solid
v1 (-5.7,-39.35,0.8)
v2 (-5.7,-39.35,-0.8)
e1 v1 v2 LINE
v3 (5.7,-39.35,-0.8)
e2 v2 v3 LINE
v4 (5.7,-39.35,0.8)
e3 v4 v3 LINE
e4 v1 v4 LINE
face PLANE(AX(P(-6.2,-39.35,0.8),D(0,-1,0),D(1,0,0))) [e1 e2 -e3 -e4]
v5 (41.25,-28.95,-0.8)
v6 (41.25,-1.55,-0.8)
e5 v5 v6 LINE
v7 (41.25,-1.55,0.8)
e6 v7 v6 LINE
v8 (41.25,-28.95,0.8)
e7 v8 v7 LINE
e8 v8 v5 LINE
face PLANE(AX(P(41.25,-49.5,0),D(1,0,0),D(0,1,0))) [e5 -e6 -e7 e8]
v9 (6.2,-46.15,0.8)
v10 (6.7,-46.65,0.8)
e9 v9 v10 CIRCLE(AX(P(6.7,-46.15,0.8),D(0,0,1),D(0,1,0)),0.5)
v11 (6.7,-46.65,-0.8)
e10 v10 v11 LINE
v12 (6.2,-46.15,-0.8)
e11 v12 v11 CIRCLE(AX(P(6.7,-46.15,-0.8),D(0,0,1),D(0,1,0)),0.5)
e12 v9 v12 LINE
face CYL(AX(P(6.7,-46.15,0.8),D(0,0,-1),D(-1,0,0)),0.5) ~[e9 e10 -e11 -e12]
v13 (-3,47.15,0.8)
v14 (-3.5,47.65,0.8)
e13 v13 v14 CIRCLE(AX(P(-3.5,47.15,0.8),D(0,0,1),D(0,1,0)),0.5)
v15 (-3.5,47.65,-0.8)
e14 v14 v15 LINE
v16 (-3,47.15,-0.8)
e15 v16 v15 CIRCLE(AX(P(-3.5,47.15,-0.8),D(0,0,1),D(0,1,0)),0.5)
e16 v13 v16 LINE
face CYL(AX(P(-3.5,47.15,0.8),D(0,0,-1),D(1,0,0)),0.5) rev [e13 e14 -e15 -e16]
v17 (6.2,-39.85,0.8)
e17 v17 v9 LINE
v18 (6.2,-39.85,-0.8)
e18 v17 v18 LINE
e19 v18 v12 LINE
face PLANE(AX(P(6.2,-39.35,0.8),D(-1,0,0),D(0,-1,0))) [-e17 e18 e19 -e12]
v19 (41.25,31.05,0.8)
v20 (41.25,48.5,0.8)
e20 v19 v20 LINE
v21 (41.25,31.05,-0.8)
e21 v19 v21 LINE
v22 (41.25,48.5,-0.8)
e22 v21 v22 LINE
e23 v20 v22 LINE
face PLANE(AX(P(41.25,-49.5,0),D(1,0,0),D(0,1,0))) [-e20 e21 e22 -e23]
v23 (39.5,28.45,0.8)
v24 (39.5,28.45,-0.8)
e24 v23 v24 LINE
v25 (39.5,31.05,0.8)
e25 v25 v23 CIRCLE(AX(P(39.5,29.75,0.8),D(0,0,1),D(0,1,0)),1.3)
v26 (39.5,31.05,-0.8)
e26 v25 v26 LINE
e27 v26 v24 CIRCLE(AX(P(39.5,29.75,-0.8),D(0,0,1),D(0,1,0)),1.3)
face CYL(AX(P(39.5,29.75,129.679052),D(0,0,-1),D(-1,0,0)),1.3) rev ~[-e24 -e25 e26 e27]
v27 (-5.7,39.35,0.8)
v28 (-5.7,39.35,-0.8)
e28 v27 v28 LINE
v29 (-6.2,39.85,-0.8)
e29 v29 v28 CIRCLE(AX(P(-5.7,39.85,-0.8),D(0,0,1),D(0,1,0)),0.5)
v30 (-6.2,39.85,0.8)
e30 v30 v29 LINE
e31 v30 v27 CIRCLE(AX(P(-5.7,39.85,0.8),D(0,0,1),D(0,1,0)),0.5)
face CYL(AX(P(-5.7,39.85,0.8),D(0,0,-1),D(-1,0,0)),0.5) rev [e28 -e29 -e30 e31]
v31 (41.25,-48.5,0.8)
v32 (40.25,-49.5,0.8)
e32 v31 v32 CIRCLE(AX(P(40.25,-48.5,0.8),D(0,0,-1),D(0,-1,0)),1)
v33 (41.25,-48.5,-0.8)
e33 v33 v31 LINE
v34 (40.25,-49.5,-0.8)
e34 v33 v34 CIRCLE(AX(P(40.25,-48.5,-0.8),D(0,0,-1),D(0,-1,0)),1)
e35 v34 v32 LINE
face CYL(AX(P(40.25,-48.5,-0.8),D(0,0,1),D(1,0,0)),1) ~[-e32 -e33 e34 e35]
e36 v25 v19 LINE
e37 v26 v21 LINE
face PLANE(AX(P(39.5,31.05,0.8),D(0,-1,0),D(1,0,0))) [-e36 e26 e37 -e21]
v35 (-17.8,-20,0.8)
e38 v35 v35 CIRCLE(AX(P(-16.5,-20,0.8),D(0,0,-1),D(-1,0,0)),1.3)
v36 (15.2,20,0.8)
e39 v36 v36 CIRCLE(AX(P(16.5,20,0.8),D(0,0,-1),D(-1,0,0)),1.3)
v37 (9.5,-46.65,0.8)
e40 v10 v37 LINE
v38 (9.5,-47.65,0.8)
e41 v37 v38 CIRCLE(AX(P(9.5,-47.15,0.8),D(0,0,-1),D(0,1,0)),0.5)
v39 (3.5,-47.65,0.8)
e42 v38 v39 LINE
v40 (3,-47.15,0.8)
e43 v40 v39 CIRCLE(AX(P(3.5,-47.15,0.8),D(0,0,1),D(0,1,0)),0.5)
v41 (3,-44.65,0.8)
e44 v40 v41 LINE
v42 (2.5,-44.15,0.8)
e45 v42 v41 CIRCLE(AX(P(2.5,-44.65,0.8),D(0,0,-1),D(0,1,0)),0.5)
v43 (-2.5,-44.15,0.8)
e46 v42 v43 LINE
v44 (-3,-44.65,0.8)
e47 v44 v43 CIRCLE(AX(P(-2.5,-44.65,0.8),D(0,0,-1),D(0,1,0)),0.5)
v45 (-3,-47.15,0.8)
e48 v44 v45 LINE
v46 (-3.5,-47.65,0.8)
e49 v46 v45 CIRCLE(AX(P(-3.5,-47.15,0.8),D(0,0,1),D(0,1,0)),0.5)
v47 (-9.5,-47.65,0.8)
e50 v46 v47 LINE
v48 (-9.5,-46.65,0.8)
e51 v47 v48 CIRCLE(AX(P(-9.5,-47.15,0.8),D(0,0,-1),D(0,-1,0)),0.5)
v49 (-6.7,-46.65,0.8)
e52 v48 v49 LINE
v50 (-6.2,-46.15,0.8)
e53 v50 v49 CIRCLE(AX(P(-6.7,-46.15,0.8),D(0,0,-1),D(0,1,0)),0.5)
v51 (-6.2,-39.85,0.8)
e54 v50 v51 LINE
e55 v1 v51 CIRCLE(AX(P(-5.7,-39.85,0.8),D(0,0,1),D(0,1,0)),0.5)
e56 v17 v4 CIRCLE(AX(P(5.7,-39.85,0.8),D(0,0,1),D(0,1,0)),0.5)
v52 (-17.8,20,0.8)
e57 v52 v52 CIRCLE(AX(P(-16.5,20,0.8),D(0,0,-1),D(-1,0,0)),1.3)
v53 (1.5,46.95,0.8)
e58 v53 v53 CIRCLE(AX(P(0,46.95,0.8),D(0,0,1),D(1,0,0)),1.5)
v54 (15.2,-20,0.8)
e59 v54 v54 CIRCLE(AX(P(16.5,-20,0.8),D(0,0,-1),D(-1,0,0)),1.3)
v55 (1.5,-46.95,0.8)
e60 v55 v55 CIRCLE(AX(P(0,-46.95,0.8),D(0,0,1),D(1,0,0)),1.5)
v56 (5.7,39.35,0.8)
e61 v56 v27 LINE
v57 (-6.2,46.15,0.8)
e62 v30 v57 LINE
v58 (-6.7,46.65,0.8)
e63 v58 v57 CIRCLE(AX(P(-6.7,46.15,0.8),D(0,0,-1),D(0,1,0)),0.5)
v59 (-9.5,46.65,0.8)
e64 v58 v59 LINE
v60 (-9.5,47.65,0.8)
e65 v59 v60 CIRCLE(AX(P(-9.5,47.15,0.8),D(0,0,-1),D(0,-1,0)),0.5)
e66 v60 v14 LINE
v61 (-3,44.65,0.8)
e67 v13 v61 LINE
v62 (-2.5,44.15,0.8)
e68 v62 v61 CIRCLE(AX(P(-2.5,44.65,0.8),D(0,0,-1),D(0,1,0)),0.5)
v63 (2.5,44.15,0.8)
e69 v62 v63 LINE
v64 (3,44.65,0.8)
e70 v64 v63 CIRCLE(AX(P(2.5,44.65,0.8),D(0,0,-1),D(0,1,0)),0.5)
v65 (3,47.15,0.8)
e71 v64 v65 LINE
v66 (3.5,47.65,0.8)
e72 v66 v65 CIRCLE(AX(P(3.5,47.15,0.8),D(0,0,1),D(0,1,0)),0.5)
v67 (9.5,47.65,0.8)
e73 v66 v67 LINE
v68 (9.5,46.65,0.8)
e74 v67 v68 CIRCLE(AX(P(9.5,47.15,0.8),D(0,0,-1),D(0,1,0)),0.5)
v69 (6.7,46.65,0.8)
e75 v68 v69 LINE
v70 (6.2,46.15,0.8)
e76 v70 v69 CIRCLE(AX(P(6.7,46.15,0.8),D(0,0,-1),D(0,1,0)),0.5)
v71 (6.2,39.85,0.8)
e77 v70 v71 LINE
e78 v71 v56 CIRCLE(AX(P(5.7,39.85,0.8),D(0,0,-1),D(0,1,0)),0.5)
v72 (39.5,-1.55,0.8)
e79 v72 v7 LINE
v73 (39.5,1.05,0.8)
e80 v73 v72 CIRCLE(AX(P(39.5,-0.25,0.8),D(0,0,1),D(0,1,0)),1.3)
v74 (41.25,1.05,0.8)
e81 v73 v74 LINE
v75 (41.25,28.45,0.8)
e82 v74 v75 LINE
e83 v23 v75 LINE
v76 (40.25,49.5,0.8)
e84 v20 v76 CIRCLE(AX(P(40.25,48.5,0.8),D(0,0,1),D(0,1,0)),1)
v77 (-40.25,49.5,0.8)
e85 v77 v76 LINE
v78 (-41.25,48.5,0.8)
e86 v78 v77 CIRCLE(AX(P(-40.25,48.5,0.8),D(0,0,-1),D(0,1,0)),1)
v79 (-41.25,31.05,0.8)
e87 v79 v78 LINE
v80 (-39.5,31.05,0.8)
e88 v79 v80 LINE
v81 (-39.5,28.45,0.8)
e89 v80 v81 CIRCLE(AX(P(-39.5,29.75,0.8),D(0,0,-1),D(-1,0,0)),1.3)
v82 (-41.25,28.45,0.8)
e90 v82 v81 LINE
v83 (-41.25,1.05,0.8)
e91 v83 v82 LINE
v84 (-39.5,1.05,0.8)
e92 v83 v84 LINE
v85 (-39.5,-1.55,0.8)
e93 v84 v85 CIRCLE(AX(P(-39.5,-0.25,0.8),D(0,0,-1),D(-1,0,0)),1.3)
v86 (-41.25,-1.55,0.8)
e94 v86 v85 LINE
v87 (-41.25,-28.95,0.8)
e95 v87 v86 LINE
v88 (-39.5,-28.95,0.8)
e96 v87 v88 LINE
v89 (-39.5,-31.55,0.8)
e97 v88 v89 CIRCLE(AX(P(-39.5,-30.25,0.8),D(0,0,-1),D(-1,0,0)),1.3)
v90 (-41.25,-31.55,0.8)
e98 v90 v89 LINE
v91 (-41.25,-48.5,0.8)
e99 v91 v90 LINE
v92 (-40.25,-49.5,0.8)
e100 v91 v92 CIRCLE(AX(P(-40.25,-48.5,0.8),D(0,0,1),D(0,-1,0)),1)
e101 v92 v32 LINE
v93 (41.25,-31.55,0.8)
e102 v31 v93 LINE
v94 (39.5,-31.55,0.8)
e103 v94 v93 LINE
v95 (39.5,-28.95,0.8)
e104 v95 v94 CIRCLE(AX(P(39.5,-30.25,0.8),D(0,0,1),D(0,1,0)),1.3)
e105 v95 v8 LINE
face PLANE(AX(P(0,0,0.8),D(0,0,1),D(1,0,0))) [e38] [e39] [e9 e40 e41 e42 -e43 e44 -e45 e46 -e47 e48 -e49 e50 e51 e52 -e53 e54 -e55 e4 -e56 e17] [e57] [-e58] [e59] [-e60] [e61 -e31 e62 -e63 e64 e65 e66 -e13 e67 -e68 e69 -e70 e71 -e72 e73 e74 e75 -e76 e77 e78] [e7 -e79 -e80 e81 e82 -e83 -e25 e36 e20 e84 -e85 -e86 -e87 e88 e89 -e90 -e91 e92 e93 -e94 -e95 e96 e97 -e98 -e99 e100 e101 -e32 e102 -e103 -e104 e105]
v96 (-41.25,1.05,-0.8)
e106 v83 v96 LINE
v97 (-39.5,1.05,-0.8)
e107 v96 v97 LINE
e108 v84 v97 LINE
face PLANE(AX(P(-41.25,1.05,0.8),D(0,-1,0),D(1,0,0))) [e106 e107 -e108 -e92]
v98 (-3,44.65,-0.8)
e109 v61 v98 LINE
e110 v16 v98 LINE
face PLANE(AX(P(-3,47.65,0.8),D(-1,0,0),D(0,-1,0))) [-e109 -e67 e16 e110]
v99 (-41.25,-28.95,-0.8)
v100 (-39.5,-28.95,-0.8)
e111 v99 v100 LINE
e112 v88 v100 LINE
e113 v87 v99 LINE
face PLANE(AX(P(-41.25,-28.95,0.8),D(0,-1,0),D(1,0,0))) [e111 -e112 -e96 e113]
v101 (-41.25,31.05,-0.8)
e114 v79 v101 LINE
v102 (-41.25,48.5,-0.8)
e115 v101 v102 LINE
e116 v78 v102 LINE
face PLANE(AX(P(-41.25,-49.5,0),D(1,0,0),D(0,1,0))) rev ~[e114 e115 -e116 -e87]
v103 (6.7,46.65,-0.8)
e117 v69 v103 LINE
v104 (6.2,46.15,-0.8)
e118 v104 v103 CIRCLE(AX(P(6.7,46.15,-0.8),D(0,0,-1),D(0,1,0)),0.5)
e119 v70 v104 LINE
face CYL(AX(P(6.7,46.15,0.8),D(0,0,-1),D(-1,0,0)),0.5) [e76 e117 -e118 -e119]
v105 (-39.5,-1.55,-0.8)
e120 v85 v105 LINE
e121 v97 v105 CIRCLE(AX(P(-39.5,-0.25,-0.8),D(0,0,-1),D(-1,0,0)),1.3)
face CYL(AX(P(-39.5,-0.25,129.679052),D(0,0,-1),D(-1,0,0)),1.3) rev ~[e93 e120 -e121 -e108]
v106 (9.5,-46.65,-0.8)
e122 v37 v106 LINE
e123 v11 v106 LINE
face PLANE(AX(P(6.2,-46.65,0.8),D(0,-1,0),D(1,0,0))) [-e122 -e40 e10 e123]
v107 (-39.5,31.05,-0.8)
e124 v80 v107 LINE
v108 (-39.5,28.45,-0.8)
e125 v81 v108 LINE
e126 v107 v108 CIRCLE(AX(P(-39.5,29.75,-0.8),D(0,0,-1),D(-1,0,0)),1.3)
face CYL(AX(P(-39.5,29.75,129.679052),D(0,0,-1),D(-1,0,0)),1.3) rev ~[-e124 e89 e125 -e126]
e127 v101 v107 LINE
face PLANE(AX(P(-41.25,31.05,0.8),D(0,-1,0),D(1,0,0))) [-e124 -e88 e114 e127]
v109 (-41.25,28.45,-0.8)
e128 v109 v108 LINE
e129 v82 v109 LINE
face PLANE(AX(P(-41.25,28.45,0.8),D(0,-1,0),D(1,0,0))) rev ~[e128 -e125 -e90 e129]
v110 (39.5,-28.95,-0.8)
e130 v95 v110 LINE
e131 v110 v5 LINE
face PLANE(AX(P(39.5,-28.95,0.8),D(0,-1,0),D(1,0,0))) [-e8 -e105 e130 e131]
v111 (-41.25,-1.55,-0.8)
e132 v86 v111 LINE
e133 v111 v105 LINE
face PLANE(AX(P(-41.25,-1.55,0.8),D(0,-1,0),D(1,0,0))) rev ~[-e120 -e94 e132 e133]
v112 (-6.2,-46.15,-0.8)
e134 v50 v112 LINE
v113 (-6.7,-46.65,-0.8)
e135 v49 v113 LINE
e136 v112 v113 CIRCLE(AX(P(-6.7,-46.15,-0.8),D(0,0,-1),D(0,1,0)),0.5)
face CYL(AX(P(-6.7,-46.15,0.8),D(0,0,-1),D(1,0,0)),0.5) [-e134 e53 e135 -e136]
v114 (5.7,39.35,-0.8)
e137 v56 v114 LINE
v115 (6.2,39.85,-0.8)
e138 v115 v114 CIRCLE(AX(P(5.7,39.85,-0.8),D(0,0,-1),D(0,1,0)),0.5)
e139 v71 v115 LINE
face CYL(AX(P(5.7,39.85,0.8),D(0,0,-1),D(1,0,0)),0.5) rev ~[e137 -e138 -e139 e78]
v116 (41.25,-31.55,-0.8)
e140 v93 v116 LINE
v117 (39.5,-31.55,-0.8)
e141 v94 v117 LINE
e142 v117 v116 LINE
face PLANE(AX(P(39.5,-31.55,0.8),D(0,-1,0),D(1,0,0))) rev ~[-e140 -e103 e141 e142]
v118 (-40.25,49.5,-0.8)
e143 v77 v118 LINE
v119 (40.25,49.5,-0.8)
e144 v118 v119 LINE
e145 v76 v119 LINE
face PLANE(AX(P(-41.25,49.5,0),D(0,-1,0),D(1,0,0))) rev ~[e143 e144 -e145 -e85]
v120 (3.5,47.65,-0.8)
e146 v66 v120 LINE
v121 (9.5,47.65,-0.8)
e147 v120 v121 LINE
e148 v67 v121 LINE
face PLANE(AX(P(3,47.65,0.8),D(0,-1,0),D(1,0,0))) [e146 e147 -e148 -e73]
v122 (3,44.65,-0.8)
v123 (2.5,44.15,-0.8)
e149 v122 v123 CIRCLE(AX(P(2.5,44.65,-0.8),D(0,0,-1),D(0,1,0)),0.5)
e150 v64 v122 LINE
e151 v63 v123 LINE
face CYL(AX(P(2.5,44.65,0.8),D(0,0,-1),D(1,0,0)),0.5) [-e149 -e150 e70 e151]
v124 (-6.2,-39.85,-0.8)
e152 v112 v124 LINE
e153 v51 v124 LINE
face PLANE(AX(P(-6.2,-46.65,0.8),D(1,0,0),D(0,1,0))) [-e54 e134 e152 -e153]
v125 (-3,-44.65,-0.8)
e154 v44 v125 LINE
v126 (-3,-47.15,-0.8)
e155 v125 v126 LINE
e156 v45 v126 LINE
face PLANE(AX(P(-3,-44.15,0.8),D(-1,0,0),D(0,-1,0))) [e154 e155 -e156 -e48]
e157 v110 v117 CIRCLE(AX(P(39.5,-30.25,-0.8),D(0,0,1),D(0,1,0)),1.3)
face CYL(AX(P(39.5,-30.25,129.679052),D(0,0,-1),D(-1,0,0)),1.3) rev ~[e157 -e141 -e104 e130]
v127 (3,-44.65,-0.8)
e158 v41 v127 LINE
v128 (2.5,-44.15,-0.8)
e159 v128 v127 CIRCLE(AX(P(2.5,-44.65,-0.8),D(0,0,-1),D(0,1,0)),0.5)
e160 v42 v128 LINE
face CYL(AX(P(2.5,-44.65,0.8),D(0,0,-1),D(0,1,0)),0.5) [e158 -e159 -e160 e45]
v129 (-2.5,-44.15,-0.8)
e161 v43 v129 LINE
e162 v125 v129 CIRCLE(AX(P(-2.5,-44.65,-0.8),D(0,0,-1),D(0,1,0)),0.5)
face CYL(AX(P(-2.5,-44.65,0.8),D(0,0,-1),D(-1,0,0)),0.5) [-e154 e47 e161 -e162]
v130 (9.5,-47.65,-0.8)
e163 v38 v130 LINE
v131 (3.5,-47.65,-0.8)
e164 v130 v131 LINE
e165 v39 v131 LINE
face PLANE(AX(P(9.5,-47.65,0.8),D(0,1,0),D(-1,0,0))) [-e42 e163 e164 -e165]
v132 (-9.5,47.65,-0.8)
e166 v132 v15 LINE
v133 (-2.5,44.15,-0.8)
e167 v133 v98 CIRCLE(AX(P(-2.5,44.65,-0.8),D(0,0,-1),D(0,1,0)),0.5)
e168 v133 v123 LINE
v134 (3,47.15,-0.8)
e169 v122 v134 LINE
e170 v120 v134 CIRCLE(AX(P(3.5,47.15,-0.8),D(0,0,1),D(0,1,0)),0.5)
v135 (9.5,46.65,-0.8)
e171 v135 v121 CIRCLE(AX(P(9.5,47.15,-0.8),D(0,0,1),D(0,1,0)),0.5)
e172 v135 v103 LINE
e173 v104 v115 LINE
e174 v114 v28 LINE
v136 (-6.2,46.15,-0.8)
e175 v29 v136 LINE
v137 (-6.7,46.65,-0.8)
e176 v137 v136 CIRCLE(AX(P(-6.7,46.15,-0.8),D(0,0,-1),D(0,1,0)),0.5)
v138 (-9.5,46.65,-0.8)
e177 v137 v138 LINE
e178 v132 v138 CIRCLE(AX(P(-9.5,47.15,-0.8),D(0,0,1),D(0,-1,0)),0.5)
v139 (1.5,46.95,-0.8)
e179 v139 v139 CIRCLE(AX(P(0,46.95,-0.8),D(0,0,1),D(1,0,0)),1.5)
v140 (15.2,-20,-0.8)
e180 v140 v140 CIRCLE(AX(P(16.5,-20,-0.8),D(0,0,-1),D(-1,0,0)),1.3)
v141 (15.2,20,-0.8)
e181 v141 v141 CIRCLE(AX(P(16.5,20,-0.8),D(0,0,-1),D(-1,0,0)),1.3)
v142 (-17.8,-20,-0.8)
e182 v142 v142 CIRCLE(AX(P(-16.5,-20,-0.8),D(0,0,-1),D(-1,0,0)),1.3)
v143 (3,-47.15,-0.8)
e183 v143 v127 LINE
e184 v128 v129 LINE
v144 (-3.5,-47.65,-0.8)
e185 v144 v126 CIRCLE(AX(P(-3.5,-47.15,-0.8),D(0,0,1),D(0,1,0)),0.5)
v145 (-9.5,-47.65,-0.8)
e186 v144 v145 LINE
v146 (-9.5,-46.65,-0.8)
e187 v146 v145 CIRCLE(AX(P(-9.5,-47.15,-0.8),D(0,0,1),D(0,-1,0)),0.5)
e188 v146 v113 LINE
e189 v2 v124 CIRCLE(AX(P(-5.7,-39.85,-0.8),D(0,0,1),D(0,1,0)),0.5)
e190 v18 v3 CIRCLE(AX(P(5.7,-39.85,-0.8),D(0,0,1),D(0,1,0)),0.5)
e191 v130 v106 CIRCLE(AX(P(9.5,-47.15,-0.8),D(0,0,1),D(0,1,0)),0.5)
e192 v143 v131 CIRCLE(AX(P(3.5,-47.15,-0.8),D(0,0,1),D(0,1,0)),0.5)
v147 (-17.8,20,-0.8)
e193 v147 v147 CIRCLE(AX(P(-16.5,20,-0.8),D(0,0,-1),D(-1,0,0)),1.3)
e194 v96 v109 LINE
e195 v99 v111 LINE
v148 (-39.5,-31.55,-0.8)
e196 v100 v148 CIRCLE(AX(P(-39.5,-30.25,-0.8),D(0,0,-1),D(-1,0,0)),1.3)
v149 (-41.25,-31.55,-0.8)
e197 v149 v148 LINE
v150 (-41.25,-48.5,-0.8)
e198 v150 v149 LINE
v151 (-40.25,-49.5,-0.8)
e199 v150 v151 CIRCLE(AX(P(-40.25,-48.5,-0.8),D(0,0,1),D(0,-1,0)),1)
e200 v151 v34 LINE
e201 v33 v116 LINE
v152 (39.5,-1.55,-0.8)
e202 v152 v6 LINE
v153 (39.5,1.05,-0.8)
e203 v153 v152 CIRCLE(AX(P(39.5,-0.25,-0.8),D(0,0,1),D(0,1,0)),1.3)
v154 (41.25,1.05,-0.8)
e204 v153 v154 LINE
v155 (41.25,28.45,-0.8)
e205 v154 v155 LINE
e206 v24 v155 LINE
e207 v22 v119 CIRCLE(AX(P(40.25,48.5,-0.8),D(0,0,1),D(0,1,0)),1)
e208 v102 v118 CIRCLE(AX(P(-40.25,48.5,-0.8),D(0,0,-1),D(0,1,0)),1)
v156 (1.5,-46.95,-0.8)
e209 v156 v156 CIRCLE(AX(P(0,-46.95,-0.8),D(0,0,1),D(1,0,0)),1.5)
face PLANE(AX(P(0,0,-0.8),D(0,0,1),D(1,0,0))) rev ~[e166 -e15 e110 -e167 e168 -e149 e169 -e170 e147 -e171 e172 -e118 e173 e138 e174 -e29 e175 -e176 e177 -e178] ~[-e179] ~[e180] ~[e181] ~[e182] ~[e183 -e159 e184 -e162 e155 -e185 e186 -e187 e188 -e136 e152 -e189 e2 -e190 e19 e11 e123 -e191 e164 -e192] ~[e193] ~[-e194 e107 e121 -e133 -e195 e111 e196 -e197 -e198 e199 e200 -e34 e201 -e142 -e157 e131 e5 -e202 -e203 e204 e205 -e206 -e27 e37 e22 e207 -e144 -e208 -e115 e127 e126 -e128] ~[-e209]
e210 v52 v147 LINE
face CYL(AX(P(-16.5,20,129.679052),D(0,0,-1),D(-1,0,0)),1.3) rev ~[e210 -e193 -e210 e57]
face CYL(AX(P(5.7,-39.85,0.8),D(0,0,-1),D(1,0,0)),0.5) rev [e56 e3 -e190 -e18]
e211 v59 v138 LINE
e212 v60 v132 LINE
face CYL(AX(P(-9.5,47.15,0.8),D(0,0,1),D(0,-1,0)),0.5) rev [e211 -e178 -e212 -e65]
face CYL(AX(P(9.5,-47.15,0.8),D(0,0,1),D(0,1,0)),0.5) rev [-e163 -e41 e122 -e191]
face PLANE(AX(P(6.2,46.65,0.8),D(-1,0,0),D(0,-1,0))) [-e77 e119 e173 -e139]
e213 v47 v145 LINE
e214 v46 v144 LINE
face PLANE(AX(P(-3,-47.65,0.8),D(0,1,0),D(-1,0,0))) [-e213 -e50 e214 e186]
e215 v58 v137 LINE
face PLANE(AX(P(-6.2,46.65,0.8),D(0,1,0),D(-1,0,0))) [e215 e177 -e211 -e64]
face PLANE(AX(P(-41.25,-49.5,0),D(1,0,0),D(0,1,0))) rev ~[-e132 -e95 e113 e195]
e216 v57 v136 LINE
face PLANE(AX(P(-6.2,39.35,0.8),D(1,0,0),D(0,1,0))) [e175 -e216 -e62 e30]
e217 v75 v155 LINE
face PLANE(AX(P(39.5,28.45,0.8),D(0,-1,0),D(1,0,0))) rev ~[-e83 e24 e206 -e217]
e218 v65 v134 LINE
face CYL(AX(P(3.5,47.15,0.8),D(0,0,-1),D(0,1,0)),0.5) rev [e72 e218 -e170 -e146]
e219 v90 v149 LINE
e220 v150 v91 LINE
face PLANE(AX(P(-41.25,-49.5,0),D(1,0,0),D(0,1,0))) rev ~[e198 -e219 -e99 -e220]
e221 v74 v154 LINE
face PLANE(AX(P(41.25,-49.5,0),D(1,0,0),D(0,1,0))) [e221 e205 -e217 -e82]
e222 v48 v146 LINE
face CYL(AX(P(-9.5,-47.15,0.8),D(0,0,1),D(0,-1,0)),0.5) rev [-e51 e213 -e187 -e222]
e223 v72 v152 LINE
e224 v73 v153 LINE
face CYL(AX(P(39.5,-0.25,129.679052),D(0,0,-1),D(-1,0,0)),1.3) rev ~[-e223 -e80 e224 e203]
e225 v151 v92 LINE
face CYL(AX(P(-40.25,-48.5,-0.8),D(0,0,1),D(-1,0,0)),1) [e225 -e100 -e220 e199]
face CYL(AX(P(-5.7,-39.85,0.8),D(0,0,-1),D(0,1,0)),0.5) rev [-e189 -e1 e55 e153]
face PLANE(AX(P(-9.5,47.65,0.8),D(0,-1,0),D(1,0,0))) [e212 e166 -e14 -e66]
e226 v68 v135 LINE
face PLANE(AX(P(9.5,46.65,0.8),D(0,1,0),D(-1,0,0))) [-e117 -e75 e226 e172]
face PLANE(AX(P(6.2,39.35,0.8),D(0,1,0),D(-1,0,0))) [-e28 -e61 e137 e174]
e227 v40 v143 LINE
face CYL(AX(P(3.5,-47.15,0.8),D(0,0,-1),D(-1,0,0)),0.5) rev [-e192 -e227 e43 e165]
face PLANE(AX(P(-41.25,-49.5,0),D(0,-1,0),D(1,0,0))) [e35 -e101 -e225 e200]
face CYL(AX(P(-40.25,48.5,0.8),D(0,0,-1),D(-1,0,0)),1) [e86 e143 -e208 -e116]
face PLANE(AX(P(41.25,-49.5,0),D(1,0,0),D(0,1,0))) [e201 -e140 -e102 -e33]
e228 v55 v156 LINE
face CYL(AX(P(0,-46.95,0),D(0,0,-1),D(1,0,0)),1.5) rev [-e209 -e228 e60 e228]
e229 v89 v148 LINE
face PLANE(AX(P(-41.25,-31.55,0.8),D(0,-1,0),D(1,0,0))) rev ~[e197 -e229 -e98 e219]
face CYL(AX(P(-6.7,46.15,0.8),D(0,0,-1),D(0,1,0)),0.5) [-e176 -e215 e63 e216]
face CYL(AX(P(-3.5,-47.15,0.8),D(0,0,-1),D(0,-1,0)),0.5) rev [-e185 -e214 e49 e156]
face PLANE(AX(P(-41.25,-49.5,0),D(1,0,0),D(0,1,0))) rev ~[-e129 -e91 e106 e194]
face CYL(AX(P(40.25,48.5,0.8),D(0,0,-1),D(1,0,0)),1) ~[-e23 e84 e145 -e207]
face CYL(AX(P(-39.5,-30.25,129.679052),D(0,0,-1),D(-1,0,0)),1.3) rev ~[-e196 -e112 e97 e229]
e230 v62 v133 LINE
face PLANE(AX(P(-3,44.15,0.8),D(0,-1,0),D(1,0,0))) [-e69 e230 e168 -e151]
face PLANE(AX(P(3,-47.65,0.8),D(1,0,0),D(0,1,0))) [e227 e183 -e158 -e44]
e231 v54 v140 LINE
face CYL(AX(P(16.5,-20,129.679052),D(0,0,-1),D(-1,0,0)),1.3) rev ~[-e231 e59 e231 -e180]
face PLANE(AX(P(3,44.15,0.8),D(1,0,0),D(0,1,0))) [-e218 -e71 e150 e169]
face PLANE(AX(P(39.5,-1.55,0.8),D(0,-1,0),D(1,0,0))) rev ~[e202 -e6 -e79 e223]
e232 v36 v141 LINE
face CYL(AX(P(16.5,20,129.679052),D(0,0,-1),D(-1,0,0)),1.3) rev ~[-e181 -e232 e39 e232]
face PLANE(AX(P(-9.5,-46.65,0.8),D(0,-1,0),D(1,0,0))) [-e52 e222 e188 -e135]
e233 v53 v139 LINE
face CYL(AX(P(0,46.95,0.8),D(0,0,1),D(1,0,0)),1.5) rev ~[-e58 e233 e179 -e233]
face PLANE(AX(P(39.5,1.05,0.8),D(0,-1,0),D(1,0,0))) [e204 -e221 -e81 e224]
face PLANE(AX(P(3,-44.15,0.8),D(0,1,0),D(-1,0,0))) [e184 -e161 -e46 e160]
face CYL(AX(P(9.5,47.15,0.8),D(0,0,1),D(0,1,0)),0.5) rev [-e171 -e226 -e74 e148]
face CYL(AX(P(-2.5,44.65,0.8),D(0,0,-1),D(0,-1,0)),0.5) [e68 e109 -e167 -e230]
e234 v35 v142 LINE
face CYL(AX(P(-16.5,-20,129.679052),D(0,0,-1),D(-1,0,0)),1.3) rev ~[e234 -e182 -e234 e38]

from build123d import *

# Parameters (mm, degrees)
SKETCH2_W            = 82.5
SKETCH2_H            = 99
SKETCH2_R            = 0.8
SKETCH2_R_2          = 1.5
PCB_EXTRUDE_DEPTH    = 0.8
CORNER_FILLETS_R     = 1
SKETCH4_R            = 1.5
SOLAR_HOLES_DEPTH    = 2.6
SOLAR_HOLE_FILLETS_R = 0.5
M2_CLEARANCE_HOLES_D = 2.6
SKETCH10_W           = 1.75
SKETCH10_H           = 2.6
CUT_EXTRUDE2_DEPTH   = 2.6


with BuildPart() as part:
    # Sketch2 → pcb extrude (new body, symmetric)
    with BuildSketch(Plane.XY):
        Rectangle(SKETCH2_W, SKETCH2_H)
        with Locations((0, 46.95)):
            Circle(SKETCH2_R, mode=Mode.SUBTRACT)
        with Locations((-39.5, -30.25)):
            Circle(SKETCH2_R, mode=Mode.SUBTRACT)
        with Locations((-39.5, -0.25)):
            Circle(SKETCH2_R, mode=Mode.SUBTRACT)
        with Locations((-39.5, 29.75)):
            Circle(SKETCH2_R, mode=Mode.SUBTRACT)
        with Locations((39.5, -30.25)):
            Circle(SKETCH2_R, mode=Mode.SUBTRACT)
        with Locations((39.5, -0.25)):
            Circle(SKETCH2_R, mode=Mode.SUBTRACT)
        with Locations((39.5, 29.75)):
            Circle(SKETCH2_R, mode=Mode.SUBTRACT)
        with Locations((0, -46.95)):
            Circle(SKETCH2_R_2, mode=Mode.SUBTRACT)
        with Locations((-16.5, 20)):
            Circle(SKETCH2_R, mode=Mode.SUBTRACT)
        with Locations((16.5, 20)):
            Circle(SKETCH2_R, mode=Mode.SUBTRACT)
        with Locations((-16.5, -20)):
            Circle(SKETCH2_R, mode=Mode.SUBTRACT)
        with Locations((16.5, -20)):
            Circle(SKETCH2_R, mode=Mode.SUBTRACT)
    extrude(amount=PCB_EXTRUDE_DEPTH, both=True)

    # corner fillets
    corner_fillets_edges = [part.edges().sort_by_distance(p)[0] for p in [
        (41.25, 49.5, 0),
        (41.25, -49.5, 0),
        (-41.25, -49.5, 0),
        (-41.25, 49.5, 0),
    ]]
    fillet(corner_fillets_edges, radius=CORNER_FILLETS_R)

    # Sketch4 → solar holes (cut, through all)
    with BuildSketch(Plane.XY.offset(0.8)):
        with Locations((0, 46.95)):
            Circle(SKETCH4_R)
        with BuildLine():
            Line((6.2, 39.35), (-6.2, 39.35))
            Line((-6.2, 39.35), (-6.2, 46.65))
            Line((-6.2, 46.65), (-9.5, 46.65))
            ThreePointArc((-9.5, 46.65), (-10, 47.15), (-9.5, 47.65))
            Line((-9.5, 47.65), (-3, 47.65))
            Line((-3, 47.65), (-3, 44.15))
            Line((-3, 44.15), (3, 44.15))
            Line((3, 44.15), (3, 47.65))
            Line((3, 47.65), (9.5, 47.65))
            ThreePointArc((9.5, 47.65), (10, 47.15), (9.5, 46.65))
            Line((9.5, 46.65), (6.2, 46.65))
            Line((6.2, 46.65), (6.2, 39.35))
        make_face()
        with BuildLine():
            Line((6.2, -46.65), (9.5, -46.65))
            ThreePointArc((9.5, -46.65), (10, -47.15), (9.5, -47.65))
            Line((9.5, -47.65), (3, -47.65))
            Line((3, -47.65), (3, -44.15))
            Line((3, -44.15), (-3, -44.15))
            Line((-3, -44.15), (-3, -47.65))
            Line((-3, -47.65), (-9.5, -47.65))
            ThreePointArc((-9.5, -47.65), (-10, -47.15), (-9.5, -46.65))
            Line((-9.5, -46.65), (-6.2, -46.65))
            Line((-6.2, -46.65), (-6.2, -39.35))
            Line((-6.2, -39.35), (6.2, -39.35))
            Line((6.2, -39.35), (6.2, -46.65))
        make_face()
    extrude(amount=-SOLAR_HOLES_DEPTH, mode=Mode.SUBTRACT)

    # solar hole fillets
    solar_hole_fillets_edges = [part.edges().sort_by_distance(p)[0] for p in [
        (3, -47.65, 0),
        (3, -44.15, 0),
        (-3, -44.15, 0),
        (-3, -47.65, 0),
        (-6.2, -46.65, 0),
        (-6.2, -39.35, 0),
        (-6.2, 39.35, 0),
        (-6.2, 46.65, 0),
        (-3, 47.65, 0),
        (-3, 44.15, 0),
        (3, 44.15, 0),
        (3, 47.65, 0),
        (6.2, 46.65, 0),
        (6.2, 39.35, 0),
        (6.2, -39.35, 0),
        (6.2, -46.65, 0),
    ]]
    fillet(solar_hole_fillets_edges, radius=SOLAR_HOLE_FILLETS_R)

    # M2 Clearance Holes (through all)
    with Locations(Plane.XY.offset(0.8)):
        with Locations((-39.5, 29.75), (-39.5, -0.25), (-16.5, 20), (16.5, 20), (16.5, -20), (-16.5, -20), (39.5, 29.75), (39.5, -0.25), (39.5, -30.25), (-39.5, -30.25)):
            Hole(M2_CLEARANCE_HOLES_D / 2)

    # Sketch10 → Cut-Extrude2 (cut, through all)
    with BuildSketch(Plane.XY.offset(0.8)):
        with Locations((-40.375, 29.75)):
            Rectangle(SKETCH10_W, SKETCH10_H)
        with Locations((-40.375, -0.25)):
            Rectangle(SKETCH10_W, SKETCH10_H)
        with Locations((-40.375, -30.25)):
            Rectangle(SKETCH10_W, SKETCH10_H)
        with Locations((40.375, -30.25)):
            Rectangle(SKETCH10_W, SKETCH10_H)
        with Locations((40.375, -0.25)):
            Rectangle(SKETCH10_W, SKETCH10_H)
        with Locations((40.375, 29.75)):
            Rectangle(SKETCH10_W, SKETCH10_H)
    extrude(amount=-CUT_EXTRUDE2_DEPTH, mode=Mode.SUBTRACT)


solid = part.part
